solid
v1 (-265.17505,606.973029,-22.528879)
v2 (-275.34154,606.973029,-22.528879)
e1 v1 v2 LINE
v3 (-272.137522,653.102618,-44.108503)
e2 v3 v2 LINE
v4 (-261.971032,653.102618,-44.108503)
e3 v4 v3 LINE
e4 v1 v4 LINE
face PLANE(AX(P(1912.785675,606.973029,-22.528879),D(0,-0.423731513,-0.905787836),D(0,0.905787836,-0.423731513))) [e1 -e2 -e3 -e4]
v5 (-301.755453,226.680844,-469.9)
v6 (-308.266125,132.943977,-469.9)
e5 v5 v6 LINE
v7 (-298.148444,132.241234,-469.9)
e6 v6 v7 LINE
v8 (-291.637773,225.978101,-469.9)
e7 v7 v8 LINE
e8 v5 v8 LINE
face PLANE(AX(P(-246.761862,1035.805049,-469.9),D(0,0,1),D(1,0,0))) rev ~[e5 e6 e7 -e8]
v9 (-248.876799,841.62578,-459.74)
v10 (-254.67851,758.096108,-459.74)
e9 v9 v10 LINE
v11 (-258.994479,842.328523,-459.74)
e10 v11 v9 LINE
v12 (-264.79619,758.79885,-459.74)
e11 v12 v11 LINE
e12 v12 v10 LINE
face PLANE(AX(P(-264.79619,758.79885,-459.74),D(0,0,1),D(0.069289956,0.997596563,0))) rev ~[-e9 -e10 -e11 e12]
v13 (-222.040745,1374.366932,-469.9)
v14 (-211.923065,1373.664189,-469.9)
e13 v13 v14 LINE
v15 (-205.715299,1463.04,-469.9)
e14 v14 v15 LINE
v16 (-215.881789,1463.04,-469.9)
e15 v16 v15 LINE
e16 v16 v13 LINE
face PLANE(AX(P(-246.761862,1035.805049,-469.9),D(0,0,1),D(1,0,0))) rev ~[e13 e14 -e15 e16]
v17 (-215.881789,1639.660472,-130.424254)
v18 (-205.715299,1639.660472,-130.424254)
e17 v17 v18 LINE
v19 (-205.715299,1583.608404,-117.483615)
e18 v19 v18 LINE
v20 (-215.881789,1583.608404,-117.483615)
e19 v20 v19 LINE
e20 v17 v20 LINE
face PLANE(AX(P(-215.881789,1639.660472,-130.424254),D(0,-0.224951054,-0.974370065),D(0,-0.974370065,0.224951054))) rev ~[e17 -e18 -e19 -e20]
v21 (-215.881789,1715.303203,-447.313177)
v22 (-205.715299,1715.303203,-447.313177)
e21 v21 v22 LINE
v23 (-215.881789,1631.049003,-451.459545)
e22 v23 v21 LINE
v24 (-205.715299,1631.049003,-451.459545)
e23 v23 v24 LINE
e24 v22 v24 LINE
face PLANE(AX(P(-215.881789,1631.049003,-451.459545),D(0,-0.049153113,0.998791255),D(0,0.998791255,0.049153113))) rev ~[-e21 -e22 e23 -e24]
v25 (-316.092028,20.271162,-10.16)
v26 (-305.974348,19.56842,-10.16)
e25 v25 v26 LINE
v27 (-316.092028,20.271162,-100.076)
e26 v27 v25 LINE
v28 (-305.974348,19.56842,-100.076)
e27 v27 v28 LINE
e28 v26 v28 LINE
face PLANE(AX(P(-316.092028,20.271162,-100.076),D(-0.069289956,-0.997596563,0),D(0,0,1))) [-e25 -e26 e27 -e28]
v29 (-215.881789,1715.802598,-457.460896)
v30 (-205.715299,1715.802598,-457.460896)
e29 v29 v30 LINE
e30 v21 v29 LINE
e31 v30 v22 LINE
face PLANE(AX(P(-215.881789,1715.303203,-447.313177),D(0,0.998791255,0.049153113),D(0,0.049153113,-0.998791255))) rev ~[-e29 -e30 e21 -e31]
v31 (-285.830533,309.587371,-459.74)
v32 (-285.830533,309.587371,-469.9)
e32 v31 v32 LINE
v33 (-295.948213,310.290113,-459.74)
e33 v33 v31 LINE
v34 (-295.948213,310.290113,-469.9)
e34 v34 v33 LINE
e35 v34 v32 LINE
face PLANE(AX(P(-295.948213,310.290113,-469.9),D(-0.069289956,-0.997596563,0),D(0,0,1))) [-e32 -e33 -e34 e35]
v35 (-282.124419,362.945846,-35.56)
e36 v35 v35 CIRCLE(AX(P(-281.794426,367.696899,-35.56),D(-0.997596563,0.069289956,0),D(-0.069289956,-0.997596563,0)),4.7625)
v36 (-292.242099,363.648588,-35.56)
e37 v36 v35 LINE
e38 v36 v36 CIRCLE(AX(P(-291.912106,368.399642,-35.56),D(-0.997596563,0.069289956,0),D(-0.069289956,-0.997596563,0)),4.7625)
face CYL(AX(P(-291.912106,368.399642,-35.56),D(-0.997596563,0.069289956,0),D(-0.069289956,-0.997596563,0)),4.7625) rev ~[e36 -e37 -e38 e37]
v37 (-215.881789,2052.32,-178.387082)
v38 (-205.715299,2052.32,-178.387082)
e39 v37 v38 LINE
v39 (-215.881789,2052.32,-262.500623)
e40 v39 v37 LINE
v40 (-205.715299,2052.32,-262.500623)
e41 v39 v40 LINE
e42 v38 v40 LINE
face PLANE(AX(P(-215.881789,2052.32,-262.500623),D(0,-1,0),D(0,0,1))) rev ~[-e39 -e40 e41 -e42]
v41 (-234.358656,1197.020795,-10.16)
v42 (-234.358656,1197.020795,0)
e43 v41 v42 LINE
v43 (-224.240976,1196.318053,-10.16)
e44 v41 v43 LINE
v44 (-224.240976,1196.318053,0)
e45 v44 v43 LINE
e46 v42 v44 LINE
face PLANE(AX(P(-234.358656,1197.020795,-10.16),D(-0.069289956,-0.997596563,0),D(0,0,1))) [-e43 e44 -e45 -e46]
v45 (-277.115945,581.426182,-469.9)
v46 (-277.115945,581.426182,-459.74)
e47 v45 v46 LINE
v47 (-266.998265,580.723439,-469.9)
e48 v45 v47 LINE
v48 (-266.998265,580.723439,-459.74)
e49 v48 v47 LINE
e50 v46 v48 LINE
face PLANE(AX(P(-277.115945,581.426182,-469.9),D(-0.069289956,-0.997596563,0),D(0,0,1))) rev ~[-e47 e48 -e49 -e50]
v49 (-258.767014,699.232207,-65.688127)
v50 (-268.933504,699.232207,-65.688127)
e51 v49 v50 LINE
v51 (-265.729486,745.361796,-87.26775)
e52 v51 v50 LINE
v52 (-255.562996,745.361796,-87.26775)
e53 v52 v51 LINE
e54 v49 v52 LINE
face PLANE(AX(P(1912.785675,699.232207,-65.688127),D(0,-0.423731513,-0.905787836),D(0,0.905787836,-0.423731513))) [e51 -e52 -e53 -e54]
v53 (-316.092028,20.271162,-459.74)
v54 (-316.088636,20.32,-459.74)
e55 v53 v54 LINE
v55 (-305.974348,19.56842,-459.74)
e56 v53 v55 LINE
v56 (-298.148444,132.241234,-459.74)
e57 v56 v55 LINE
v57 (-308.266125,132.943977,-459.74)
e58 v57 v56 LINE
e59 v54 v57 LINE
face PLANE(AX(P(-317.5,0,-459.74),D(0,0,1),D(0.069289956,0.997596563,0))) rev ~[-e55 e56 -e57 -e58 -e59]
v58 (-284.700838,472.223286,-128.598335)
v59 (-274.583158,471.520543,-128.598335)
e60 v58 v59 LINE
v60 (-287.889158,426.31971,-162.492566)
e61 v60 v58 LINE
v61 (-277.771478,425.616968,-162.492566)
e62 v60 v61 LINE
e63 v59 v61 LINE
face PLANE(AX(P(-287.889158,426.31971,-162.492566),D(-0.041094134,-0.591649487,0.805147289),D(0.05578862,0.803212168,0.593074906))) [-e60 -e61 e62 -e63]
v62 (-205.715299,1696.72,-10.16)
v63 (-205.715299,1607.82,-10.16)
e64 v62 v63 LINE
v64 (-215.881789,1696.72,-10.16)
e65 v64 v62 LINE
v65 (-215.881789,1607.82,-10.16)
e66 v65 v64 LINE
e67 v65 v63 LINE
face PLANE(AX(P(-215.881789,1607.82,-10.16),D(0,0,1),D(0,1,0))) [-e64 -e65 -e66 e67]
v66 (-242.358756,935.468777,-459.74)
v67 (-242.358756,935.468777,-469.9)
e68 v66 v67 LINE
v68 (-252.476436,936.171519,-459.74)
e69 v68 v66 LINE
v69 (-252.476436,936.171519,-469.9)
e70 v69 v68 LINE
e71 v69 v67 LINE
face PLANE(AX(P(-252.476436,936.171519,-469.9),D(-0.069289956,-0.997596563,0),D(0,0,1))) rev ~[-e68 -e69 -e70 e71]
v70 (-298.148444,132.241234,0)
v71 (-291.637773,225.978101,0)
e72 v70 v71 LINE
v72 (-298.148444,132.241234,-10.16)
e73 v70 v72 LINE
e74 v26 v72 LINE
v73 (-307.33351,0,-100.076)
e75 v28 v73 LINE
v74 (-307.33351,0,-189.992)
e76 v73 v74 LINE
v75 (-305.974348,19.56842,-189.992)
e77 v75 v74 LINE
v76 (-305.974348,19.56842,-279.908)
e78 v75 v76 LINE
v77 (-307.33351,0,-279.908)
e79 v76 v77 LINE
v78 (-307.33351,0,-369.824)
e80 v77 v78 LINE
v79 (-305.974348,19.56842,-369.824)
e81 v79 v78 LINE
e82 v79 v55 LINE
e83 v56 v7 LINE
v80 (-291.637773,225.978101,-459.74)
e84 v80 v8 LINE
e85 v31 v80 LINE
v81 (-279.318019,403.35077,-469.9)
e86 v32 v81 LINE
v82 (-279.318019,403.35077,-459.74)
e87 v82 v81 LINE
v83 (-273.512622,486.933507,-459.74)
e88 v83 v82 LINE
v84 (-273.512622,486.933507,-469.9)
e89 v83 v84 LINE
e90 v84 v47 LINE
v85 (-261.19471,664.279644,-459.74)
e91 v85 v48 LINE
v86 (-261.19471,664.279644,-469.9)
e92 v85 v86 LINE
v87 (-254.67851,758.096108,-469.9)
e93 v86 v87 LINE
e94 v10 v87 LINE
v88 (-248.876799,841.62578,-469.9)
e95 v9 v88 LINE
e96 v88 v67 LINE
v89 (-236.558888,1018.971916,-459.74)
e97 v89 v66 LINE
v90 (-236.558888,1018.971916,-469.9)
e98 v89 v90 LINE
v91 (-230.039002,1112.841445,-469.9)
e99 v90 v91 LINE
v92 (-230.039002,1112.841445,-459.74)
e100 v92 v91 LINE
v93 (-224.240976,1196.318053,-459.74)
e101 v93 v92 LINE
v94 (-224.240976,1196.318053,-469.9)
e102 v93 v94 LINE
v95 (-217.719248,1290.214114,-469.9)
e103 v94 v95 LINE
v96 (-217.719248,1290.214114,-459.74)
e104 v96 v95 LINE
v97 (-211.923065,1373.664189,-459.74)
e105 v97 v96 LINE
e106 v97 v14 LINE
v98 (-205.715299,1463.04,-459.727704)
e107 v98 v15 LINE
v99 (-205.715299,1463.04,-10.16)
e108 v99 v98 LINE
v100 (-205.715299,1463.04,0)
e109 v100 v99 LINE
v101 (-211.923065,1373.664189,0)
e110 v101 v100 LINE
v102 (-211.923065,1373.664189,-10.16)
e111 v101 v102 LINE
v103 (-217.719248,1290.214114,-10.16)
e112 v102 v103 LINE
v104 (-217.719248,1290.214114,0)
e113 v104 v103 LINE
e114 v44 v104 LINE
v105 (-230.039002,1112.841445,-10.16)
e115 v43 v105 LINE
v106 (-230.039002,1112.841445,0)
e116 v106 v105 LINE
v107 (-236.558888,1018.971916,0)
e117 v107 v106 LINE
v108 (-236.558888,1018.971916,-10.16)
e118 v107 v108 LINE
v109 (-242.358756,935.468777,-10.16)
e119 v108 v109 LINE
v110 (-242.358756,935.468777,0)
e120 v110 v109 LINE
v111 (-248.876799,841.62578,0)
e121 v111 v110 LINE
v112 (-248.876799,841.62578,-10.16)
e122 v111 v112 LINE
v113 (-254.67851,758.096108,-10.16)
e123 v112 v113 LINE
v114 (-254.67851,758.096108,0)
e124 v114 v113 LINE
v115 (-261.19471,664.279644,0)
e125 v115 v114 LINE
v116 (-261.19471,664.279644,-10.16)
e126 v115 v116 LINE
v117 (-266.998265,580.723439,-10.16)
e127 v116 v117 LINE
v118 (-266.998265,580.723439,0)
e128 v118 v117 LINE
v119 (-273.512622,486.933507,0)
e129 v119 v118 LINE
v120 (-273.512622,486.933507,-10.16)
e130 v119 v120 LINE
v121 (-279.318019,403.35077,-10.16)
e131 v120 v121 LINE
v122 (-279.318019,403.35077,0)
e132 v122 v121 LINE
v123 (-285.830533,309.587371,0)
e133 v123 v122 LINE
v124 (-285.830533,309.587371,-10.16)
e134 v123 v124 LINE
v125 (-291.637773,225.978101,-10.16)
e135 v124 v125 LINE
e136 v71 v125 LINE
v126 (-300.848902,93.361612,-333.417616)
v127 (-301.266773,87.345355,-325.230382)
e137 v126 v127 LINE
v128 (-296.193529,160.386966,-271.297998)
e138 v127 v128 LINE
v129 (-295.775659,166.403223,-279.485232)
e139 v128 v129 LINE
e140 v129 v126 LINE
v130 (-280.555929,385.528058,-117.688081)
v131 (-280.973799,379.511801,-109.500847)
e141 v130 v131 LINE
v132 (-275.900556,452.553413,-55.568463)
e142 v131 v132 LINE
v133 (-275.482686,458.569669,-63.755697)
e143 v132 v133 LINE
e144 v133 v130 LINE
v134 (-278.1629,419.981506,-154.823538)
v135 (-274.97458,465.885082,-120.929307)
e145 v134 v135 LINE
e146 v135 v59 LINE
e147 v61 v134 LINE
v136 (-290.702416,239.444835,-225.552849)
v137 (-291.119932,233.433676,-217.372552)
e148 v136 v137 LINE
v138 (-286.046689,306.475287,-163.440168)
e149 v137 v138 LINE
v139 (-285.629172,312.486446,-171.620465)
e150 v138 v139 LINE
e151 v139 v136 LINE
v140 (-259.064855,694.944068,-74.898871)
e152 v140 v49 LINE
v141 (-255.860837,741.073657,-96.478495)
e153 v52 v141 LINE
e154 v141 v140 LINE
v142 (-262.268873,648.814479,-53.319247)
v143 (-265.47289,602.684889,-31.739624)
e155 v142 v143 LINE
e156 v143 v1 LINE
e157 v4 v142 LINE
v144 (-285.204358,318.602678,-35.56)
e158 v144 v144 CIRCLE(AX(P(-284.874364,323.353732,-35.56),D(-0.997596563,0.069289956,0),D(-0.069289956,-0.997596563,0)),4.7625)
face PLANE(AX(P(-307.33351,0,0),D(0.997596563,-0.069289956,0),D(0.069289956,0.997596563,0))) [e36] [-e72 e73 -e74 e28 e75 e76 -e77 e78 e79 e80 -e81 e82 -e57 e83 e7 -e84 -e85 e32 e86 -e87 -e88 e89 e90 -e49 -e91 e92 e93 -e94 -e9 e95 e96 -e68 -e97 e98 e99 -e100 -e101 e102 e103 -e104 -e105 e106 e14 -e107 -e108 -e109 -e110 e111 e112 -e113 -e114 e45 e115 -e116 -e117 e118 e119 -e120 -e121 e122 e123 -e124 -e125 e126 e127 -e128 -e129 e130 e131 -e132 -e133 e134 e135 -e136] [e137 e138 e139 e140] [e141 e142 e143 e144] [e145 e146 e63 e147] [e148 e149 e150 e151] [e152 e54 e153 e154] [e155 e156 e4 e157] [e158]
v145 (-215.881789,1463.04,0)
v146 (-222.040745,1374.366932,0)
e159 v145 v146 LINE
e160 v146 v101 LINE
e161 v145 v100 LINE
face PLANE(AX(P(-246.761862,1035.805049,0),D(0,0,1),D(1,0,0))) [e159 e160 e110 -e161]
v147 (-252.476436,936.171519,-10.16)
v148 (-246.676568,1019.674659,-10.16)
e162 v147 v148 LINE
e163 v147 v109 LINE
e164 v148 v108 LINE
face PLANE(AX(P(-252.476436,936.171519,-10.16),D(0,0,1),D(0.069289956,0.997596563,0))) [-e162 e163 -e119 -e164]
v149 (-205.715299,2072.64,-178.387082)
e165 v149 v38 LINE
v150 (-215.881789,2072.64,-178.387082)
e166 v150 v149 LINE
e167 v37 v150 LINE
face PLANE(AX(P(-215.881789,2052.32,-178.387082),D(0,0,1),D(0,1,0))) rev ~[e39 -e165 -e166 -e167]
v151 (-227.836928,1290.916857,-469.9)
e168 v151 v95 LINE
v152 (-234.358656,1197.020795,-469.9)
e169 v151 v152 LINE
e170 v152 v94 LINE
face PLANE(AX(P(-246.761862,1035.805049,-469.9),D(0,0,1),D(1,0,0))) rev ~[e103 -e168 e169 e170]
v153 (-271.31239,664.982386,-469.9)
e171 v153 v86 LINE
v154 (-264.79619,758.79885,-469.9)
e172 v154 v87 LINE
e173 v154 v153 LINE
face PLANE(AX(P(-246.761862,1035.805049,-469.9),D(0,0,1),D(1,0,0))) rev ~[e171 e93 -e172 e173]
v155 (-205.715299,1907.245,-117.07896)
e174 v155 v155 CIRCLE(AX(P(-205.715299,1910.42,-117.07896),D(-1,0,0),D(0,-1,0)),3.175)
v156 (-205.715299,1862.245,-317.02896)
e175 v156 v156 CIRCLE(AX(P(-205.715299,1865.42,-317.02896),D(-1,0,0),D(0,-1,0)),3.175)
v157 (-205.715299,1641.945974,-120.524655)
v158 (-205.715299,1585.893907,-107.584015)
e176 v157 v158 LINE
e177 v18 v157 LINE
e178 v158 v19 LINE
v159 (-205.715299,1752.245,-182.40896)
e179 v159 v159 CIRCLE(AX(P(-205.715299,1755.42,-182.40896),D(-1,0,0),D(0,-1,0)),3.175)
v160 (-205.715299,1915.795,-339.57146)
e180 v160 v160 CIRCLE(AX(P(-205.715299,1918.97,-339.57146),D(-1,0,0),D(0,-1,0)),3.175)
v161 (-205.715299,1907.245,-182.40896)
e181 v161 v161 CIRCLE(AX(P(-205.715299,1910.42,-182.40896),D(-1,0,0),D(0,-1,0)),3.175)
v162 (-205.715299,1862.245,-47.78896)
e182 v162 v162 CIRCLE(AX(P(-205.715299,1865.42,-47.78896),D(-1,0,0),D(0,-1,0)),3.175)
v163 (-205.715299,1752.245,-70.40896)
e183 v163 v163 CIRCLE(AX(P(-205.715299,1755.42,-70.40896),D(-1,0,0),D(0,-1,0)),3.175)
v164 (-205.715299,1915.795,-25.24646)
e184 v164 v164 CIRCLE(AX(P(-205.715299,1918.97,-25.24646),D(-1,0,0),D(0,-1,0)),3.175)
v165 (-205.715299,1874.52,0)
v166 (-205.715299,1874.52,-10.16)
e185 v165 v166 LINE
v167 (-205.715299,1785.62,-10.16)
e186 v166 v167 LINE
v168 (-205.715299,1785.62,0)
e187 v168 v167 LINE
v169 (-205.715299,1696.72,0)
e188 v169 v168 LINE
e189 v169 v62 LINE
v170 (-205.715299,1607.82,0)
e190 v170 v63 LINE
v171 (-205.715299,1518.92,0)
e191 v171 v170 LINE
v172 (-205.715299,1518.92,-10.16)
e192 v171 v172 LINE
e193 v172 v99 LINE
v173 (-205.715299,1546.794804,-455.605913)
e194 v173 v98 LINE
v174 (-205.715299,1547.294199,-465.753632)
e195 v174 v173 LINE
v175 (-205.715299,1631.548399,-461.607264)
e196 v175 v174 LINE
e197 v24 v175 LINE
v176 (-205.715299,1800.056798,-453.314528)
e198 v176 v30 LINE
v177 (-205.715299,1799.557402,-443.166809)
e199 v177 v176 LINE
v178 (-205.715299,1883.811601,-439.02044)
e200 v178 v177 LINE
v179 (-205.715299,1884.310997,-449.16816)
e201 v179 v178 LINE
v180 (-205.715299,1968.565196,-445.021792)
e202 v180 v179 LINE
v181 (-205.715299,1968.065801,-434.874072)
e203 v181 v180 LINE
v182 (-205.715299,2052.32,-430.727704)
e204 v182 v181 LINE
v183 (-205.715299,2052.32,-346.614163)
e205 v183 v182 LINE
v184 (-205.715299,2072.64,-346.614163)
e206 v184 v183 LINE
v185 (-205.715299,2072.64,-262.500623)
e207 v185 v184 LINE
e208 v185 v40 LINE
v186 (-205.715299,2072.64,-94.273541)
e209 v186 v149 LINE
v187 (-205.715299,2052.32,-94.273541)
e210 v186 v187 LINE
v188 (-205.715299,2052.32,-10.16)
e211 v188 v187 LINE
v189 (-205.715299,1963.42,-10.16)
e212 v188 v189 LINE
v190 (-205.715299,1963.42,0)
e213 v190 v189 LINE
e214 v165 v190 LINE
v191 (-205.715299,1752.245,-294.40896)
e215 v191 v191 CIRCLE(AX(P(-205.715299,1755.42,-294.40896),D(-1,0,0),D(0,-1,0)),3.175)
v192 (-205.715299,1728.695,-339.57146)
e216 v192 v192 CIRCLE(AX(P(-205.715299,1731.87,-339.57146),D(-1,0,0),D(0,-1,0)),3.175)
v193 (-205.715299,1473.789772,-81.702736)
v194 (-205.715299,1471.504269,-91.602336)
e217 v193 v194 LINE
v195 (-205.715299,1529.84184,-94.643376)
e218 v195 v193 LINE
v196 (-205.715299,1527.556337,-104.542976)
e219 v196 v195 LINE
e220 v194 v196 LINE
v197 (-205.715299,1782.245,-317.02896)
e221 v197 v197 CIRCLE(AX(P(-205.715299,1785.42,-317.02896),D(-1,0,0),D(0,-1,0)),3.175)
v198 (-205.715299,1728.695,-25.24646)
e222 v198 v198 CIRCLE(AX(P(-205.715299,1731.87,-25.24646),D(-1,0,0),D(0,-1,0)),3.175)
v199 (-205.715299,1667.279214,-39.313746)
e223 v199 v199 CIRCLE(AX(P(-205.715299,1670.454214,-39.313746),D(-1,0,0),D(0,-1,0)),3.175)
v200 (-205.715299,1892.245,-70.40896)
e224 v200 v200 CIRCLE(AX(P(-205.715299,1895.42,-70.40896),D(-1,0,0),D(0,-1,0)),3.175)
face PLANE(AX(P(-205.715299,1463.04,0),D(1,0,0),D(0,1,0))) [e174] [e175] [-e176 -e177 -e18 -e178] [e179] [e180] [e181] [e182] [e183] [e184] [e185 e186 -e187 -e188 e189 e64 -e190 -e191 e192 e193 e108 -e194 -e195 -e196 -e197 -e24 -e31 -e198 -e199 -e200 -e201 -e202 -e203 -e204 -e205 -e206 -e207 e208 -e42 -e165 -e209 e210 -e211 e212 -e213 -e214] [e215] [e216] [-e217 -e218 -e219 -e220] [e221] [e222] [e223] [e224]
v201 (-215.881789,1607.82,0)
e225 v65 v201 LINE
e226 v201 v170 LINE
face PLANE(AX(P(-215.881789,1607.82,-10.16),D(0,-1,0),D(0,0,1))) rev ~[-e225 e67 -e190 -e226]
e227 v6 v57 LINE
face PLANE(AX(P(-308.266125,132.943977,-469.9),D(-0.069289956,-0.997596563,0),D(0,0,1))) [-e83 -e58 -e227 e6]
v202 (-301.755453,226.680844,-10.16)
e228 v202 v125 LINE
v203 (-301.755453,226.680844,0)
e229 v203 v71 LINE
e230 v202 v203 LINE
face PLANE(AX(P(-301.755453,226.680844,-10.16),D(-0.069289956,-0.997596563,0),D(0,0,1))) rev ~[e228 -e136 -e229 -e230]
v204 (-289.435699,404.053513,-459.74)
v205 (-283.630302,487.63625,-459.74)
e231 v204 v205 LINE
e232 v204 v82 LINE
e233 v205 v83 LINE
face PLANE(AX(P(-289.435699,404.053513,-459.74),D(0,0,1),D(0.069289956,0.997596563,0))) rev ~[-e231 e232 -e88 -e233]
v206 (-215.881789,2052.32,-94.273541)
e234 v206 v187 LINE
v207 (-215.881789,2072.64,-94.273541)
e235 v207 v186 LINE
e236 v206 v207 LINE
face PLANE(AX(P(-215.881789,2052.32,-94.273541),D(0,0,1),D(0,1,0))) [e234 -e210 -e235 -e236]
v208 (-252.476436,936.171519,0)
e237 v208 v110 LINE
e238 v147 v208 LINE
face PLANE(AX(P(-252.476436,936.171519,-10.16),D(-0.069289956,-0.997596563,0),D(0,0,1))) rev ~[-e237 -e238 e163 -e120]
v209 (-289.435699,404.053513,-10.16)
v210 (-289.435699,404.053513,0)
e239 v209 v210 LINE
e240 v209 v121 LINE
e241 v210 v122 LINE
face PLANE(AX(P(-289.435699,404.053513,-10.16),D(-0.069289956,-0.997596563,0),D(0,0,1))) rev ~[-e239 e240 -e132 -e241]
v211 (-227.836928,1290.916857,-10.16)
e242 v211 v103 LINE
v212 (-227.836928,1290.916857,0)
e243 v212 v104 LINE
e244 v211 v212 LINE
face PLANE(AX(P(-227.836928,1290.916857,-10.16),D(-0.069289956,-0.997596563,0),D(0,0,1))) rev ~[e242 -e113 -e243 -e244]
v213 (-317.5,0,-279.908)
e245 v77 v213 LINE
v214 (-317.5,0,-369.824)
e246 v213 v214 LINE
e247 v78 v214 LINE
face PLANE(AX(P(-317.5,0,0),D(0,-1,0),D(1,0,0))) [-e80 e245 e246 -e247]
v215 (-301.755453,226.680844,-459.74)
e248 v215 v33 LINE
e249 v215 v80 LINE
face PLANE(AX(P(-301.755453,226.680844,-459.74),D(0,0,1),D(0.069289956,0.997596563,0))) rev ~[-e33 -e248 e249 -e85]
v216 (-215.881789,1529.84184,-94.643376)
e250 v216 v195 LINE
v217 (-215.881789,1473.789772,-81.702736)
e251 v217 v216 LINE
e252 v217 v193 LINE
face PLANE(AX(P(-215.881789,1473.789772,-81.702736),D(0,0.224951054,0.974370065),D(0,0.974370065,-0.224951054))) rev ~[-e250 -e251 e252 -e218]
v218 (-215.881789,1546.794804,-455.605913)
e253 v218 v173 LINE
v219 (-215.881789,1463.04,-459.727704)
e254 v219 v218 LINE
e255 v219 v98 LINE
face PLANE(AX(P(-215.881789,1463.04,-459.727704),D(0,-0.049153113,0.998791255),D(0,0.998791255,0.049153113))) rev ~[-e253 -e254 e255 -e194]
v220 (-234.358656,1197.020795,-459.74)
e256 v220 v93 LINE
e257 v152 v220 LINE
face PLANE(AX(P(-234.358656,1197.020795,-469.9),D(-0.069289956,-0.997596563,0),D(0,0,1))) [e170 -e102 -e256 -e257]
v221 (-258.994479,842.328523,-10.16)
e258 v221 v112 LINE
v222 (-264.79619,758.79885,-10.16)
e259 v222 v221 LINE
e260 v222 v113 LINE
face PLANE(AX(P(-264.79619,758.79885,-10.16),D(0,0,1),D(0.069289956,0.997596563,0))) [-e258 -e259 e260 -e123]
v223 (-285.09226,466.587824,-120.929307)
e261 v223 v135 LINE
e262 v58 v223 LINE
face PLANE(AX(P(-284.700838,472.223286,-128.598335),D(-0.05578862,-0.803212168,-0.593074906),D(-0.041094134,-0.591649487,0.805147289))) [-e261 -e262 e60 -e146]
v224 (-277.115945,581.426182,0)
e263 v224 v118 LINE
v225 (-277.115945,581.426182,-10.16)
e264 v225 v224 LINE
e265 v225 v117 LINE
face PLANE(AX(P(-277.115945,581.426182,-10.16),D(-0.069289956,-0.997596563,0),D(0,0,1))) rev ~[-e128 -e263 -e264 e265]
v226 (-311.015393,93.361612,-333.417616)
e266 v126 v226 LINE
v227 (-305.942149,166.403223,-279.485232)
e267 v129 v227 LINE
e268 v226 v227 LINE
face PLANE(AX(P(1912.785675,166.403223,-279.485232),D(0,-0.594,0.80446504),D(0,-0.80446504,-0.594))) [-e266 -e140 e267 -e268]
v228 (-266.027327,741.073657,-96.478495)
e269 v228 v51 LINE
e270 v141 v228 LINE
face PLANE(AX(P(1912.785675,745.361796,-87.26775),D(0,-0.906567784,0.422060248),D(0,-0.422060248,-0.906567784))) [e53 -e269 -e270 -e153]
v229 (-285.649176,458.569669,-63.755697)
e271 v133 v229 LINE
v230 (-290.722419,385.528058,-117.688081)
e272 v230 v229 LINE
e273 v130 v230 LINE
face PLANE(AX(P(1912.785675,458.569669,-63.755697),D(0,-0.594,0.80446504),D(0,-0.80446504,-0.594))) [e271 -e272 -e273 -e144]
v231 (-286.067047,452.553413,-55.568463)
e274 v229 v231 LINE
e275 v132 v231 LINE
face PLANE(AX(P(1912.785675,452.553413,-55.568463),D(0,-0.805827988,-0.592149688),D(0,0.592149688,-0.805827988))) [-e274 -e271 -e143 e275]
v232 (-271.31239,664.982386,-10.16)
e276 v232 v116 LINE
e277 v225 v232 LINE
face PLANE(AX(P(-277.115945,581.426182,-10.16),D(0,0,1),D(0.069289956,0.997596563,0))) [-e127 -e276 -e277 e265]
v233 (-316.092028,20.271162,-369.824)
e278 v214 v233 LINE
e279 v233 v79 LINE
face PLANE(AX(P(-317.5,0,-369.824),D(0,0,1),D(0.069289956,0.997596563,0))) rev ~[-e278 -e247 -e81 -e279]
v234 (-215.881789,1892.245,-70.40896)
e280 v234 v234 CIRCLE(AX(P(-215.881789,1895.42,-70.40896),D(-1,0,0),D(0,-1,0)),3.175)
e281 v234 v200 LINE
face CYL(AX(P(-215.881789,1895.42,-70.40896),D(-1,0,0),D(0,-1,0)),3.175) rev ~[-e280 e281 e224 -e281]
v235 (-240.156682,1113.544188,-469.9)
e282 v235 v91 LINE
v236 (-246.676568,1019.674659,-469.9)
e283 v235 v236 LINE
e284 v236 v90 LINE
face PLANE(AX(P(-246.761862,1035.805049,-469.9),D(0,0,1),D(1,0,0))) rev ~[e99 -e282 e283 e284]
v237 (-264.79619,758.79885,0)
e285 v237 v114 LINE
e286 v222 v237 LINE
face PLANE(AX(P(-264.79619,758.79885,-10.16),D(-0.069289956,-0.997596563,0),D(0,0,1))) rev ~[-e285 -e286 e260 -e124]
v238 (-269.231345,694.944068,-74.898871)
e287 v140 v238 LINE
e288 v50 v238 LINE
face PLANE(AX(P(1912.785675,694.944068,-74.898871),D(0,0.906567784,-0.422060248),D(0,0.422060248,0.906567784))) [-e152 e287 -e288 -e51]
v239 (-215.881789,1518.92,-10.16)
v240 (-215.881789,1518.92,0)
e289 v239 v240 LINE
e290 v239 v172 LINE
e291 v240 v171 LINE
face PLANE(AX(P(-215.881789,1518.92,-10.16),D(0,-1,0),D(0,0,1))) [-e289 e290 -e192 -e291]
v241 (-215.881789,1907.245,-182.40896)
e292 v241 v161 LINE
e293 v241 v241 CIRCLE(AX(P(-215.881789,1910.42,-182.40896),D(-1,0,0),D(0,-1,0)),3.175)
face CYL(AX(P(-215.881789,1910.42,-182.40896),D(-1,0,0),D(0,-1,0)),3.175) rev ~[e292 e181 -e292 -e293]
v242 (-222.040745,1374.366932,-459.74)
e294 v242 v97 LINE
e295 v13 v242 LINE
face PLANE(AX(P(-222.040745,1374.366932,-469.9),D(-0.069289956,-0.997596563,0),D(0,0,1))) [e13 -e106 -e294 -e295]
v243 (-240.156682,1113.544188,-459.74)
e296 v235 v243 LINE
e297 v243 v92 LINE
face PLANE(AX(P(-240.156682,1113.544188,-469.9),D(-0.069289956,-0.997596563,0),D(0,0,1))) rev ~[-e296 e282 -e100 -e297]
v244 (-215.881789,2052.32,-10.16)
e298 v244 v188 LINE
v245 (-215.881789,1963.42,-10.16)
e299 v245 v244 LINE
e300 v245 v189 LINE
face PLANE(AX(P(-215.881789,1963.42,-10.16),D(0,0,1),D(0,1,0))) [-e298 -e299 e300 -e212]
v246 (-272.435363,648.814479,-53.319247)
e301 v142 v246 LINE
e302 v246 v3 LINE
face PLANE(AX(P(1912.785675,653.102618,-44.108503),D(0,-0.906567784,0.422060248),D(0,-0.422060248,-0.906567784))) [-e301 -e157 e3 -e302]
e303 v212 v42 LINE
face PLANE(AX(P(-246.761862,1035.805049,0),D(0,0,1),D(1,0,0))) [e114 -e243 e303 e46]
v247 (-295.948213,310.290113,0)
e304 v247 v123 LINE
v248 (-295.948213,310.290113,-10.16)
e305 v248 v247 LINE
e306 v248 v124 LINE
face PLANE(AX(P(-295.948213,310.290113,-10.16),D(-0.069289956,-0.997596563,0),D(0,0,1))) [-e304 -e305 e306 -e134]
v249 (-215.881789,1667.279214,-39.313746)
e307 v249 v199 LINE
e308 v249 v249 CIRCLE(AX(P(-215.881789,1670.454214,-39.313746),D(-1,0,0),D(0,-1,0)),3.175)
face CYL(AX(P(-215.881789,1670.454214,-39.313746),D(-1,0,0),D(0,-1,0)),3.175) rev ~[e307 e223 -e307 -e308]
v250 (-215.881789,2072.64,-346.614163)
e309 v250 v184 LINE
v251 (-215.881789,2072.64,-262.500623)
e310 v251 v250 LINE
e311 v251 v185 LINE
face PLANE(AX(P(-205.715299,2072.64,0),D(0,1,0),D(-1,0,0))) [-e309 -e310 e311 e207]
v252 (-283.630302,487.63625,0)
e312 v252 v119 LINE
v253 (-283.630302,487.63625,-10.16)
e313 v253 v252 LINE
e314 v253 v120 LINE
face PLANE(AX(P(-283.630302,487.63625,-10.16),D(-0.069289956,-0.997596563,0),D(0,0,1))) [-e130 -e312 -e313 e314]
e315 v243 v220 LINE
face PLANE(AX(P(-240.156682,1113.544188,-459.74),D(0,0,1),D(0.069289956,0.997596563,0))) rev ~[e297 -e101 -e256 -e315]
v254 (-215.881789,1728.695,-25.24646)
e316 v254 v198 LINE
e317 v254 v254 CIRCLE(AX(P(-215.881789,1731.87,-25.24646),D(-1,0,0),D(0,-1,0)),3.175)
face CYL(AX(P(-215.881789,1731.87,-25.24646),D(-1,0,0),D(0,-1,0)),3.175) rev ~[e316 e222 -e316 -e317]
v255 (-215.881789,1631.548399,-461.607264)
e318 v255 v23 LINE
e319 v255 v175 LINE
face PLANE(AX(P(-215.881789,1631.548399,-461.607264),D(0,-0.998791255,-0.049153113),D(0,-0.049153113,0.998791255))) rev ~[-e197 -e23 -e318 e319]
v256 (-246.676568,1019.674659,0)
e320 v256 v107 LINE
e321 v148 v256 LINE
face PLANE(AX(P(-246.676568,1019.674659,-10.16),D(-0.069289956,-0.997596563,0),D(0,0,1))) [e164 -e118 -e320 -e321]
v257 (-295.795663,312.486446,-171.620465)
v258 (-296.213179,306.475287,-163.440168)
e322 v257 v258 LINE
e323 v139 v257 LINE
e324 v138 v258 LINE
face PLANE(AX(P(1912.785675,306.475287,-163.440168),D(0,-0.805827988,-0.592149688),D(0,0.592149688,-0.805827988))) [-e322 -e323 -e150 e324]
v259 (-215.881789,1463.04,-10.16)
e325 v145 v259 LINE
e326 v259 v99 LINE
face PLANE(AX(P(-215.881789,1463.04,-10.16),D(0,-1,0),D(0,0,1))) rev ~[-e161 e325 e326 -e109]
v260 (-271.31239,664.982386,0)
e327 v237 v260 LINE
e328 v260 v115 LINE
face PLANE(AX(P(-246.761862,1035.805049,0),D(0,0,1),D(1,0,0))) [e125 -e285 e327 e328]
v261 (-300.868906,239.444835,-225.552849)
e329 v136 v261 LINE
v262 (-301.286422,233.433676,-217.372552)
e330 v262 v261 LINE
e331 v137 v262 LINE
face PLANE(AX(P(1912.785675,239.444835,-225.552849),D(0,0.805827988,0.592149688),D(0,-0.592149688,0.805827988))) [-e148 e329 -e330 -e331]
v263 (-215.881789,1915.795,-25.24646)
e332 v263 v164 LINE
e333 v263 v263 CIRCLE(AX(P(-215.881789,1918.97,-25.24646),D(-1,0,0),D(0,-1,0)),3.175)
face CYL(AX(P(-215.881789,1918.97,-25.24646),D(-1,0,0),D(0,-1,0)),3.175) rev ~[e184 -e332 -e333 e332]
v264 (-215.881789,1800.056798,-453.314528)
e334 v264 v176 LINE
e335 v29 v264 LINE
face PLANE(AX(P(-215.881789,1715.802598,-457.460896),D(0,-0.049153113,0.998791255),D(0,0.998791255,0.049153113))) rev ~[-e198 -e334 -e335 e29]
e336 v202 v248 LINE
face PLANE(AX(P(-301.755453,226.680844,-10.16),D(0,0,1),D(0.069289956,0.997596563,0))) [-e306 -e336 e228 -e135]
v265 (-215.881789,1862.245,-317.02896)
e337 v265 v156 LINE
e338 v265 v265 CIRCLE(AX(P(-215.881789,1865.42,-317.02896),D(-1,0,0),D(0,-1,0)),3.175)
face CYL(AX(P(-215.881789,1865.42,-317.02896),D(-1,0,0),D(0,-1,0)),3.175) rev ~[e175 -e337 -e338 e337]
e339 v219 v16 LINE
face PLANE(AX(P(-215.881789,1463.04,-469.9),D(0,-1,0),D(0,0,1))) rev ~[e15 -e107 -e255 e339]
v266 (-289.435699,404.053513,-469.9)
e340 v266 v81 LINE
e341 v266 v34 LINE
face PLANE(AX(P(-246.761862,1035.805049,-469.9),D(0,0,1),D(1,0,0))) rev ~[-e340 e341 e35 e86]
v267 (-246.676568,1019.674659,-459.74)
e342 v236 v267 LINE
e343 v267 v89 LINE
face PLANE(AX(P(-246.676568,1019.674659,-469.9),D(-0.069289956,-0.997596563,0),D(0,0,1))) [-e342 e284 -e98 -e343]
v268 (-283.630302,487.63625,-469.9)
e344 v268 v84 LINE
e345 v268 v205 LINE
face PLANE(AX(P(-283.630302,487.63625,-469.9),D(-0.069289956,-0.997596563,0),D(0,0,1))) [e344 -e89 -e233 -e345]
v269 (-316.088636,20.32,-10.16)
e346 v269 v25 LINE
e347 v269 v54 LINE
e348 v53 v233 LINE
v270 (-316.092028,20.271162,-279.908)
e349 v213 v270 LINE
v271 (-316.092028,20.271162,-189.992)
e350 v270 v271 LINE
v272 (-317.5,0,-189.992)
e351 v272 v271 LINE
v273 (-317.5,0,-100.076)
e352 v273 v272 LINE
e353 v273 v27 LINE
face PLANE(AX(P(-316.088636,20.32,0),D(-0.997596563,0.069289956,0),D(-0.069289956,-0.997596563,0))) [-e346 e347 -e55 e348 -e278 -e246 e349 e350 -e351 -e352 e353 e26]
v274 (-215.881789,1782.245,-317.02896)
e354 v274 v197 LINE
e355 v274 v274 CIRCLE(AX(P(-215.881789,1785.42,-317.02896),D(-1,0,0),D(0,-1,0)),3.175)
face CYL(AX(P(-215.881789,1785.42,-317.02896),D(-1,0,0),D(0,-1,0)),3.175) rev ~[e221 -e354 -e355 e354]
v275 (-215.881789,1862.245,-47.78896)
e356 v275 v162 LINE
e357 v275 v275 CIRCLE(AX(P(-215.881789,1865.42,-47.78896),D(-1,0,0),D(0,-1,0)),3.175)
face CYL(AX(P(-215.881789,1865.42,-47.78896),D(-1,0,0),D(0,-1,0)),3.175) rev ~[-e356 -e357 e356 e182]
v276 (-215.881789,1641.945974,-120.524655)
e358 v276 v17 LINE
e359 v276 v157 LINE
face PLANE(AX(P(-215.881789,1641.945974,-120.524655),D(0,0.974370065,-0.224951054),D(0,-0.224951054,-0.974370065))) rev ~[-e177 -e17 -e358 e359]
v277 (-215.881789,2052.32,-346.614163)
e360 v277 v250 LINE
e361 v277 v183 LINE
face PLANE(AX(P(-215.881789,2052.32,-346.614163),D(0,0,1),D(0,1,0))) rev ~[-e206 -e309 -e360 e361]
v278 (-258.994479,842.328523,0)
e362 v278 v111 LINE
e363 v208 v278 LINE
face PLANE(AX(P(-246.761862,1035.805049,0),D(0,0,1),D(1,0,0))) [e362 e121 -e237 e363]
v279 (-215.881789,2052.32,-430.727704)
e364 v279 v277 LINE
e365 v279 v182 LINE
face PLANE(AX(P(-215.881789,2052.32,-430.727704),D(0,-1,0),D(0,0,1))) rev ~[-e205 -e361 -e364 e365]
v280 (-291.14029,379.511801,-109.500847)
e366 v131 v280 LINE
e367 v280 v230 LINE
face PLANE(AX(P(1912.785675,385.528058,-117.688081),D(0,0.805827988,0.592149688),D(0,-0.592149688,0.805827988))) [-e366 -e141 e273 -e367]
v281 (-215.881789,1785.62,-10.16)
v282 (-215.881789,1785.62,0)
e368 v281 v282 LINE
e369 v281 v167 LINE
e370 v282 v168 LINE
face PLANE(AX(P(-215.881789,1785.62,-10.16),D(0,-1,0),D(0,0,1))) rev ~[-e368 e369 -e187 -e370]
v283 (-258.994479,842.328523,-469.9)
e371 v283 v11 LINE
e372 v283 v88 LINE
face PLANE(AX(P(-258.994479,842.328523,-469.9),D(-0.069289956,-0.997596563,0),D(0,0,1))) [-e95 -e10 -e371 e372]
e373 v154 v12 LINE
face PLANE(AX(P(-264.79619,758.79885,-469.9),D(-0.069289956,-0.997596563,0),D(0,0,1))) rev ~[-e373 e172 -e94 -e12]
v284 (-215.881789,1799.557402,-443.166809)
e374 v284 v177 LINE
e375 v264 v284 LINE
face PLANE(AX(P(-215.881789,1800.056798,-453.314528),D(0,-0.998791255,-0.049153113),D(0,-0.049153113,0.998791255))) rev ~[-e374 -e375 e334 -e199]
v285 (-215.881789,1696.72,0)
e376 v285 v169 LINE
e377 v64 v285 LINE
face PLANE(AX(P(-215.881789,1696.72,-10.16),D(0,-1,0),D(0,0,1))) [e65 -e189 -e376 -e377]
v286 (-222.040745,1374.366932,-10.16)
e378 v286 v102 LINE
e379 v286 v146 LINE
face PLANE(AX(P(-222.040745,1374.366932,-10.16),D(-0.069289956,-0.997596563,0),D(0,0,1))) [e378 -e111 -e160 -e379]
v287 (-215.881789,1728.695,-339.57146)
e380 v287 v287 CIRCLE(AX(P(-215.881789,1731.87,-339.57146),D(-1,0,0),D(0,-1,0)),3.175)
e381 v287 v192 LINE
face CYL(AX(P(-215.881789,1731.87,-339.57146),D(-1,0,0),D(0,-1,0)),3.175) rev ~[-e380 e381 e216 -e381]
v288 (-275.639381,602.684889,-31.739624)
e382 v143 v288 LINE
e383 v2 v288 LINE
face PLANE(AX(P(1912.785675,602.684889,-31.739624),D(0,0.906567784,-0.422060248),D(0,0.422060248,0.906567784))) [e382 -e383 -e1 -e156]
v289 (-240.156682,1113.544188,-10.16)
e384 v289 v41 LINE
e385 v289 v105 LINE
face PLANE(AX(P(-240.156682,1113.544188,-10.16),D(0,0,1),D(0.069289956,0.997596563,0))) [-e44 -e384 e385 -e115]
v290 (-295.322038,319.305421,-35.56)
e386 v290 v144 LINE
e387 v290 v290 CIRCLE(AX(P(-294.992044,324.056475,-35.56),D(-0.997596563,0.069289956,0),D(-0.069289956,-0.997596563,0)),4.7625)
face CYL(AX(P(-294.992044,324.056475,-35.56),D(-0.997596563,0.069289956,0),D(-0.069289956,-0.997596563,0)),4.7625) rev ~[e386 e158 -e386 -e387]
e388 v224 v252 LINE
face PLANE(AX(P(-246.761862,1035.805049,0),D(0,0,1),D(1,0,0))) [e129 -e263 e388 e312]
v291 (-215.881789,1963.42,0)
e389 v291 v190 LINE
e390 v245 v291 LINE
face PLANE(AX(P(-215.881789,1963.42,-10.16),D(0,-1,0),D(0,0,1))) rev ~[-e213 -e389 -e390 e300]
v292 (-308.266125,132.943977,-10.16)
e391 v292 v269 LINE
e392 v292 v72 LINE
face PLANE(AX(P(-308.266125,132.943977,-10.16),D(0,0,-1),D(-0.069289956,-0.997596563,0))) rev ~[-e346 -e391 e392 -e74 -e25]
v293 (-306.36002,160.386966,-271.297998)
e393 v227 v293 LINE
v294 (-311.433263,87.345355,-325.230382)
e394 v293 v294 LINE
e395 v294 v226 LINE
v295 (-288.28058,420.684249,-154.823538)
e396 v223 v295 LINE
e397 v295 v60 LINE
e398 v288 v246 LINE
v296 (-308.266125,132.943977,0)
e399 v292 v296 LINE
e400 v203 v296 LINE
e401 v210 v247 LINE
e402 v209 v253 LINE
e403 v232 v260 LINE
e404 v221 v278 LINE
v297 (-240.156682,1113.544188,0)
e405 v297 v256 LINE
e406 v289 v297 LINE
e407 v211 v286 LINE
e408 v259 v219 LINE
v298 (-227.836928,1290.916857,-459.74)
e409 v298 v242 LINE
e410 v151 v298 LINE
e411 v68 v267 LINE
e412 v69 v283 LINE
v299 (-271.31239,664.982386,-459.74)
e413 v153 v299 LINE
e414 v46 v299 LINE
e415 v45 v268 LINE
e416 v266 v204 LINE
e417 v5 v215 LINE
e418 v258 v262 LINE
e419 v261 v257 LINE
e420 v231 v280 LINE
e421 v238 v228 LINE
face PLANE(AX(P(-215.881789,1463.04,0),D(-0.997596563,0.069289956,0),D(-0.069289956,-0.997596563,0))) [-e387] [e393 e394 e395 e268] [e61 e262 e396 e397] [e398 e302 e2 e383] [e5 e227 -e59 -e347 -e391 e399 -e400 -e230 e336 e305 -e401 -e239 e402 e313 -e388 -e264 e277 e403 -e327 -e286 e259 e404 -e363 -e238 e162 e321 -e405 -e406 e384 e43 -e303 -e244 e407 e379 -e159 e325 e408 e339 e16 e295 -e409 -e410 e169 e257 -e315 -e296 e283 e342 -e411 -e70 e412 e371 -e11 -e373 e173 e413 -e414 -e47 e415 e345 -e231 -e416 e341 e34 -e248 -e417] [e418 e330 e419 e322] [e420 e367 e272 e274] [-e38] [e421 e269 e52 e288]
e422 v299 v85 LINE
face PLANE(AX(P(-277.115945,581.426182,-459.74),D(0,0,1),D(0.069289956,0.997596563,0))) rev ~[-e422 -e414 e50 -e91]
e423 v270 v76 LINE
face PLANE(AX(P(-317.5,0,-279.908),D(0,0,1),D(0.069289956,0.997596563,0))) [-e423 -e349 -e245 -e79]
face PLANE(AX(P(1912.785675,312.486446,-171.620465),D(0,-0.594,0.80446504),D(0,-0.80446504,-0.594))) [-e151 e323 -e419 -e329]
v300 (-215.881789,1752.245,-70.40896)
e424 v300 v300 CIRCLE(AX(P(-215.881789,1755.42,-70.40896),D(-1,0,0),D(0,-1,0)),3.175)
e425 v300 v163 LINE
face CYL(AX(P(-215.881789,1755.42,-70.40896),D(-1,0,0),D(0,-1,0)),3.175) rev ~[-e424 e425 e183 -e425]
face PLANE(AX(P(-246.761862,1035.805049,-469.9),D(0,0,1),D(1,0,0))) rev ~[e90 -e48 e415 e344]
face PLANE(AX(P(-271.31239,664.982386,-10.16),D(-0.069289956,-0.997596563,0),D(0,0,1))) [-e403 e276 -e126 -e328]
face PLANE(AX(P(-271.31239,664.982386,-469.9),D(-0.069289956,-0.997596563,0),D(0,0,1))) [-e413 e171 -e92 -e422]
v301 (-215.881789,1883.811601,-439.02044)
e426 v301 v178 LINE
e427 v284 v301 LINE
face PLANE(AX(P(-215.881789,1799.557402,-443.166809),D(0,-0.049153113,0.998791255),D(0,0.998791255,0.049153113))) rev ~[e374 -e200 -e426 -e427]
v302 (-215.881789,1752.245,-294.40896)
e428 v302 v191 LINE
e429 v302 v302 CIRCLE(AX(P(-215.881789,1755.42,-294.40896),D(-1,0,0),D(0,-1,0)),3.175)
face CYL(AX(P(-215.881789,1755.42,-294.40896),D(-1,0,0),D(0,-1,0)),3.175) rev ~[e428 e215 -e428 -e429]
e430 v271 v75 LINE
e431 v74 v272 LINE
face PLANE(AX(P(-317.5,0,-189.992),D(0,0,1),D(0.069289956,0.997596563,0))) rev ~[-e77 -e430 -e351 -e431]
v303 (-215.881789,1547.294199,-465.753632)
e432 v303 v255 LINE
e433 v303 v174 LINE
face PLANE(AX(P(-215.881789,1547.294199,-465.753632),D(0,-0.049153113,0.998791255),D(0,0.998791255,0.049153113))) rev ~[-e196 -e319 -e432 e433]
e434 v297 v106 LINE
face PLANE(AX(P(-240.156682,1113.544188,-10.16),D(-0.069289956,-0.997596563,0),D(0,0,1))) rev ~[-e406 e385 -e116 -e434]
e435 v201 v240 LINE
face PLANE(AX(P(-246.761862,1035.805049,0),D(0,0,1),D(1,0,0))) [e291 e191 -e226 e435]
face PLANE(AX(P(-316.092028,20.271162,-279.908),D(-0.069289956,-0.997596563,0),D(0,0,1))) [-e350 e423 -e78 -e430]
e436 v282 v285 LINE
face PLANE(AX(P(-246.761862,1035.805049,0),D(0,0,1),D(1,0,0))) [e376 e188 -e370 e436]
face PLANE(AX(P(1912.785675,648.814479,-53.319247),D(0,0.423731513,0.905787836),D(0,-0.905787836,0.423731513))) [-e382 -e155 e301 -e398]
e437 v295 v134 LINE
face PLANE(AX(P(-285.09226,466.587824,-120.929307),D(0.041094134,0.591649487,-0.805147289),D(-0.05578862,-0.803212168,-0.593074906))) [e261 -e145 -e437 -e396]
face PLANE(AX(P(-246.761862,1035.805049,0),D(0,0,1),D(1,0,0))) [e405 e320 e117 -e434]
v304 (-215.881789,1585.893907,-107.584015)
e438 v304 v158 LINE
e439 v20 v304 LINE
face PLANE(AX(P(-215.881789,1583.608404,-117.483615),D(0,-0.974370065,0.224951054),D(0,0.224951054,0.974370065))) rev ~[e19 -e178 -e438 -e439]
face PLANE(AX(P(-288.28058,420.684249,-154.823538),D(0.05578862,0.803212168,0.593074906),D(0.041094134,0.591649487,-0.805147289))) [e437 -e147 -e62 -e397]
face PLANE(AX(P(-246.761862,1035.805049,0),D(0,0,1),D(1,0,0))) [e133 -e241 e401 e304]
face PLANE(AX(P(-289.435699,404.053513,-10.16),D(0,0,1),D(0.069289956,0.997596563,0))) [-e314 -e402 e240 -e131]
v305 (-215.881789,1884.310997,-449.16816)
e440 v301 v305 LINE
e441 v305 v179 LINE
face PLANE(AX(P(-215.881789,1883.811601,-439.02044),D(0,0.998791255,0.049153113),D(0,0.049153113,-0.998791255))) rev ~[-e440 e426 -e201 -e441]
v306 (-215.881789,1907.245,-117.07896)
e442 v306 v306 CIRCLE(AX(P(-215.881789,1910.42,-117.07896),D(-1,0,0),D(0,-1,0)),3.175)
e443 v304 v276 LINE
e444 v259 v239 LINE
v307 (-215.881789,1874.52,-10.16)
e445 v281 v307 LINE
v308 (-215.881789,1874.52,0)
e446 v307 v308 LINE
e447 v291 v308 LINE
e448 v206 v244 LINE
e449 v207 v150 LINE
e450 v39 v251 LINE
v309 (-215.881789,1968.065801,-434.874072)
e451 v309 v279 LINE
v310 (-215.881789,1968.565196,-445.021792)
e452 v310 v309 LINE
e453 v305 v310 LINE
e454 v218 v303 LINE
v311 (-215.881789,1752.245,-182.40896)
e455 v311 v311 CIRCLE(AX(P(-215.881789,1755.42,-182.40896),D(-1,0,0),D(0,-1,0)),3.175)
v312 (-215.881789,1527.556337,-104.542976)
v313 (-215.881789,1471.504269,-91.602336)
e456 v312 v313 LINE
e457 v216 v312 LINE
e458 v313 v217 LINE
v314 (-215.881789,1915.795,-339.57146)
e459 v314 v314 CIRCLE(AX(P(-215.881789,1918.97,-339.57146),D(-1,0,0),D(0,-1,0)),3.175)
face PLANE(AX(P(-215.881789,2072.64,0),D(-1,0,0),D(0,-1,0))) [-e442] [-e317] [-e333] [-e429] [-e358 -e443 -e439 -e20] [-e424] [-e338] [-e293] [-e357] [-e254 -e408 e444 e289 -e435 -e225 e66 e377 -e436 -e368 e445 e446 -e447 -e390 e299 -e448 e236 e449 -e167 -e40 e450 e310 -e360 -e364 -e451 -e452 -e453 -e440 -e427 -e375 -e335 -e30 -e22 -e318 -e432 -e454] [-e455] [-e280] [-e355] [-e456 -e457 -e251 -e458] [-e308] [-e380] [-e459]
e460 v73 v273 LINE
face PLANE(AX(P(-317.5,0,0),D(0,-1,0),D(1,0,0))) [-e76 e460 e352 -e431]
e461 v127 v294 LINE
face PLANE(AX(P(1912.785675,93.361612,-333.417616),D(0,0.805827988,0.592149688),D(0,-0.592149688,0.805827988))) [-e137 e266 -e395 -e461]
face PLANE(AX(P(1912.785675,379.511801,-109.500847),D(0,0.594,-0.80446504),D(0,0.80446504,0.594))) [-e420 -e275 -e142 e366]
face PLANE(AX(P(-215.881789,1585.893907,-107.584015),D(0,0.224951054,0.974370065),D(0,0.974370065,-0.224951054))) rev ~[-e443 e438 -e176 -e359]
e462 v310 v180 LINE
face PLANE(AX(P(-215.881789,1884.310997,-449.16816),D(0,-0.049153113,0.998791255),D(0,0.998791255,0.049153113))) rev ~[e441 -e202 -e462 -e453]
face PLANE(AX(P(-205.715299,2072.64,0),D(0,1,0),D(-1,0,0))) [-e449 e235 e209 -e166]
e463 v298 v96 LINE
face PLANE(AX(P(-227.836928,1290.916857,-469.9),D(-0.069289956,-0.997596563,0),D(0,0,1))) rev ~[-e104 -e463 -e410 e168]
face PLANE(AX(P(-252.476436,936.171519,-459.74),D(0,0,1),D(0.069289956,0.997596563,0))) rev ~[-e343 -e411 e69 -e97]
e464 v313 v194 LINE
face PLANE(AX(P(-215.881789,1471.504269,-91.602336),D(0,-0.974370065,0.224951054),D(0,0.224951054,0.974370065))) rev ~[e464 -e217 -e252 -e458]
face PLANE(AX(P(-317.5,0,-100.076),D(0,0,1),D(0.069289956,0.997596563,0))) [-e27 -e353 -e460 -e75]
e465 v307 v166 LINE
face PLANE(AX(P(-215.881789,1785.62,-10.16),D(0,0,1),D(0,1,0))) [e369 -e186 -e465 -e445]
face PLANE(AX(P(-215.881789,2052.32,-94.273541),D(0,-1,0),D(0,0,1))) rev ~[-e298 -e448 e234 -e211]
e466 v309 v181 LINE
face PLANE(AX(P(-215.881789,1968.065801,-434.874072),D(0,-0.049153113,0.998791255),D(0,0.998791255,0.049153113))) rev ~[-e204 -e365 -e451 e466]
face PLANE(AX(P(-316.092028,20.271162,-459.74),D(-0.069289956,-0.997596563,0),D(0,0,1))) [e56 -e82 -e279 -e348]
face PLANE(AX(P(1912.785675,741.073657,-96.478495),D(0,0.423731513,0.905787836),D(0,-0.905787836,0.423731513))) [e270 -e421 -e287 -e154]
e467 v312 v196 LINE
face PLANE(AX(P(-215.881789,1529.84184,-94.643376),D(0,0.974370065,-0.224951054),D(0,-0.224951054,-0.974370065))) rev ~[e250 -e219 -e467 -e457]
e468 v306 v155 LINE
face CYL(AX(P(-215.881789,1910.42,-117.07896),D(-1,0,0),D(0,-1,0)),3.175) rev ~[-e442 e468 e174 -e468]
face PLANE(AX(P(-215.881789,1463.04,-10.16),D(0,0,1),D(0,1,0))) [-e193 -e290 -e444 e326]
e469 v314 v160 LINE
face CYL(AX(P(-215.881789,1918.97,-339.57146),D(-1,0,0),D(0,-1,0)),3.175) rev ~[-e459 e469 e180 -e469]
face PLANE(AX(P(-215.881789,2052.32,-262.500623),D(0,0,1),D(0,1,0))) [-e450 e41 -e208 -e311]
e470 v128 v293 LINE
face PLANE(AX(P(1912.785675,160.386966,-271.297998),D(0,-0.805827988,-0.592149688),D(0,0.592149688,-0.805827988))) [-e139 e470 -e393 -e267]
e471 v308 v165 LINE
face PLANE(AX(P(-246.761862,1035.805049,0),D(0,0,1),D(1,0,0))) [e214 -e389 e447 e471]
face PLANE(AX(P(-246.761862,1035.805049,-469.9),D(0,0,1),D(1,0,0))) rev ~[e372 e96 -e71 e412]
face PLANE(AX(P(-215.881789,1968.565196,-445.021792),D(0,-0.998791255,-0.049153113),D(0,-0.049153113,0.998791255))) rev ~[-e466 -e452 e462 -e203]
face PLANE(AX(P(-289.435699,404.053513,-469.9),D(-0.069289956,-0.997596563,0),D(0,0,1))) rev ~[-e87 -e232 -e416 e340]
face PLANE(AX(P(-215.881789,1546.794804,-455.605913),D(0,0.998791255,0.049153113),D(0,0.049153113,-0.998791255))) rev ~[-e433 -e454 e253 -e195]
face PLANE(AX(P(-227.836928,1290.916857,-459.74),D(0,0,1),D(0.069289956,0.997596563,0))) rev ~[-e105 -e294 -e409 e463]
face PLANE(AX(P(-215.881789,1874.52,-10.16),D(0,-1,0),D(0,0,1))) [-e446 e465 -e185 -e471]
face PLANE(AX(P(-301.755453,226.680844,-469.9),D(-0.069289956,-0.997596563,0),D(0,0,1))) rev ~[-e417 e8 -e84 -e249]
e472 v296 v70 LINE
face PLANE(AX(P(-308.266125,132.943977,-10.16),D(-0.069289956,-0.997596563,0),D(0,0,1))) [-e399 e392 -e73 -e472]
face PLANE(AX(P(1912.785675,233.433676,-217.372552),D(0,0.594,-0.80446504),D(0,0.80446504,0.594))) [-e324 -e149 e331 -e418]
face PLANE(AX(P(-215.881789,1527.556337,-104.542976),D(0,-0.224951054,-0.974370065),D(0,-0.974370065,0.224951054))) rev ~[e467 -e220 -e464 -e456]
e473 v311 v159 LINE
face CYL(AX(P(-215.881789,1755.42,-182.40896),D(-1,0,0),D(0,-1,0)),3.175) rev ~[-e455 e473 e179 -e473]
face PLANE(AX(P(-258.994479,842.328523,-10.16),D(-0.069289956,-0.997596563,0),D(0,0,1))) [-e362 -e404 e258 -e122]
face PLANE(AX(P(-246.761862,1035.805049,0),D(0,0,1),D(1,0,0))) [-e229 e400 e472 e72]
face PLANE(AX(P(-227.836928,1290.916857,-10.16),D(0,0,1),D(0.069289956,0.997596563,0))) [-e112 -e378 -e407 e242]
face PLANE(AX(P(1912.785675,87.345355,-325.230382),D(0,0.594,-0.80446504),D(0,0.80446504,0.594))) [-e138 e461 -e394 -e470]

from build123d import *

# Parameters (mm, degrees)
BOSS_EXTRUDE1_DEPTH      = 469.9
SKETCH2_W                = 10.16
SKETCH2_H                = 83.651125112
SKETCH2_H_2              = 83.677721465
SKETCH2_H_3              = 83.704317819
SKETCH2_H_4              = 83.730914172
SKETCH2_H_5              = 83.757510526
SKETCH2_H_6              = 83.784106879
SKETCH2_H_7              = 83.810703233
SKETCH2_H_8              = 133.264269193
CUT_EXTRUDE1_DEPTH       = 10.16
SKETCH3_W                = 10.16
SKETCH3_H                = 55.879999965
SKETCH3_H_2              = 88.9
SKETCH3_H_3              = 109.22
CUT_EXTRUDE2_DEPTH       = 12.7
SKETCH4_W                = 84.113540858
SKETCH4_H                = 20.32
CUT_EXTRUDE3_DEPTH       = 12.7
SKETCH5_W                = 89.916
SKETCH5_H                = 20.32
CUT_EXTRUDE4_DEPTH       = 12.7
SKETCH13_R               = 3.175
CUT_EXTRUDE8_DEPTH       = 2128.667464702
CUT_EXTRUDE9_DEPTH       = 2128.667464702
SKETCH20_R               = 4.7625
CUT_EXTRUDE10_DEPTH      = 2107.728843747
SKETCH24_R               = 3.175
CUT_EXTRUDE12_DEPTH      = 12.7
CUT_EXTRUDE13_DEPTH      = 2128.667464702
CUT_EXTRUDE13_DEPTH_BACK = 2128.667464702


with BuildPart() as part:
    # Sketch1 → Boss-Extrude1 (new body)
    with BuildSketch(Plane.XY):
        Polygon((-215.881789204, 2052.32), (-215.881789204, 1463.040000035), (-316.088635901, 20.32), (-317.499999939, 0), (-307.333509538, 0), (-205.715298803, 1463.040000035), (-205.715298803, 2072.64), (-215.881789204, 2072.64), align=None)
    extrude(amount=-BOSS_EXTRUDE1_DEPTH)

    # Sketch2 → Cut-Extrude1 (cut)
    with BuildSketch(Plane(origin=(-315.975651309, 21.946686571, 0), x_dir=(0, 0, 1), z_dir=(-0.9975965627192115, 0.06928995634877068, 0))):
        with Locations((-464.82, 1313.852971026)):
            Rectangle(SKETCH2_W, SKETCH2_H)
        with Locations((-464.82, 1136.066269203)):
            Rectangle(SKETCH2_W, SKETCH2_H_2)
        with Locations((-464.82, 958.27956738)):
            Rectangle(SKETCH2_W, SKETCH2_H_3)
        with Locations((-464.82, 780.492865556)):
            Rectangle(SKETCH2_W, SKETCH2_H_4)
        with Locations((-464.82, 602.706163733)):
            Rectangle(SKETCH2_W, SKETCH2_H_5)
        with Locations((-464.82, 424.91946191)):
            Rectangle(SKETCH2_W, SKETCH2_H_6)
        with Locations((-464.82, 247.132760087)):
            Rectangle(SKETCH2_W, SKETCH2_H_7)
        with Locations((-464.82, 44.63257346)):
            Rectangle(SKETCH2_W, SKETCH2_H_8)
        with Locations((-5.08, 44.63257346)):
            Rectangle(SKETCH2_W, SKETCH2_H_8)
        with Locations((-5.08, 247.132760087)):
            Rectangle(SKETCH2_W, SKETCH2_H_7)
        with Locations((-5.08, 424.91946191)):
            Rectangle(SKETCH2_W, SKETCH2_H_6)
        with Locations((-5.08, 602.706163733)):
            Rectangle(SKETCH2_W, SKETCH2_H_5)
        with Locations((-5.08, 780.492865556)):
            Rectangle(SKETCH2_W, SKETCH2_H_4)
        with Locations((-5.08, 958.27956738)):
            Rectangle(SKETCH2_W, SKETCH2_H_3)
        with Locations((-5.08, 1136.066269203)):
            Rectangle(SKETCH2_W, SKETCH2_H_2)
        with Locations((-5.08, 1313.852971026)):
            Rectangle(SKETCH2_W, SKETCH2_H)
    extrude(amount=-CUT_EXTRUDE1_DEPTH, mode=Mode.SUBTRACT)

    # Sketch3 → Cut-Extrude2 (cut)
    with BuildSketch(Plane.ZY.offset(215.881789204)):
        with Locations((-5.08, 1490.980000018)):
            Rectangle(SKETCH3_W, SKETCH3_H)
        with Locations((-5.08, 1652.27)):
            Rectangle(SKETCH3_W, SKETCH3_H_2)
        Polygon((-469.9, 1463.040000035), (-459.727704291, 1463.040000035), (-455.605912768, 1546.794803777), (-465.753631921, 1547.294199405), (-461.607263841, 1631.548398775), (-451.459544688, 1631.049003148), (-447.313176609, 1715.303202518), (-457.460895762, 1715.802598146), (-453.314527682, 1800.056797516), (-443.166808529, 1799.557401889), (-439.02044045, 1883.811601259), (-449.168159603, 1884.310996887), (-445.021791523, 1968.565196257), (-434.87407237, 1968.06580063), (-429.727704291, 2072.64), (-469.9, 2072.64), align=None)
        with Locations((-5.08, 1830.07)):
            Rectangle(SKETCH3_W, SKETCH3_H_2)
        with Locations((-5.08, 2018.03)):
            Rectangle(SKETCH3_W, SKETCH3_H_3)
    extrude(amount=-CUT_EXTRUDE2_DEPTH, mode=Mode.SUBTRACT)

    # Sketch4 → Cut-Extrude3 (cut)
    with BuildSketch(Plane.ZY.offset(215.881789204)):
        with Locations((-388.670933862, 2062.48)):
            Rectangle(SKETCH4_W, SKETCH4_H)
        with Locations((-220.443852145, 2062.48)):
            Rectangle(SKETCH4_W, SKETCH4_H)
        with Locations((-52.216770429, 2062.48)):
            Rectangle(SKETCH4_W, SKETCH4_H)
    extrude(amount=-CUT_EXTRUDE3_DEPTH, mode=Mode.SUBTRACT)

    # Sketch5 → Cut-Extrude4 (cut)
    with BuildSketch(Plane(origin=(-315.975651309, 21.946686571, 0), x_dir=(0, 0, 1), z_dir=(-0.9975965627192115, 0.06928995634877068, 0))):
        with Locations((-414.782, -11.839561137)):
            Rectangle(SKETCH5_W, SKETCH5_H)
        with Locations((-234.95, -11.839561137)):
            Rectangle(SKETCH5_W, SKETCH5_H)
        with Locations((-55.118, -11.839561137)):
            Rectangle(SKETCH5_W, SKETCH5_H)
    extrude(amount=-CUT_EXTRUDE4_DEPTH, mode=Mode.SUBTRACT)

    # Sketch13 → Cut-Extrude8 (cut, through all)
    with BuildSketch(Plane.ZY.offset(215.881789204)):
        with Locations((-25.246459893, 1731.87)):
            Circle(SKETCH13_R)
        with Locations((-70.408959893, 1755.42)):
            Circle(SKETCH13_R)
        with Locations((-182.408959893, 1755.42)):
            Circle(SKETCH13_R)
        with Locations((-25.246459893, 1918.97)):
            Circle(SKETCH13_R)
        with Locations((-47.788959893, 1865.42)):
            Circle(SKETCH13_R)
        with Locations((-182.408959893, 1910.42)):
            Circle(SKETCH13_R)
        with Locations((-117.078959893, 1910.42)):
            Circle(SKETCH13_R)
        with Locations((-70.408959893, 1895.42)):
            Circle(SKETCH13_R)
        with Locations((-317.028959893, 1865.42)):
            Circle(SKETCH13_R)
        with Locations((-294.408959893, 1755.42)):
            Circle(SKETCH13_R)
        with Locations((-317.028959893, 1785.42)):
            Circle(SKETCH13_R)
        with Locations((-339.571459893, 1731.87)):
            Circle(SKETCH13_R)
        with Locations((-339.571459893, 1918.97)):
            Circle(SKETCH13_R)
    extrude(amount=-CUT_EXTRUDE8_DEPTH, mode=Mode.SUBTRACT)

    # Sketch17 → Cut-Extrude9 (cut, through all)
    with BuildSketch(Plane.ZY.offset(215.881789204)):
        Polygon((-120.524654614, 1641.945974367), (-130.424254473, 1639.660471655), (-117.483615058, 1583.608404231), (-107.584015199, 1585.893906943), align=None)
        Polygon((-94.643375784, 1529.841839519), (-104.542975642, 1527.556336807), (-91.602336227, 1471.504269383), (-81.702736369, 1473.789772095), align=None)
    extrude(amount=-CUT_EXTRUDE9_DEPTH, mode=Mode.SUBTRACT)

    # Sketch20 → Cut-Extrude10 (cut, through all)
    with BuildSketch(Plane(origin=(-315.975651309, 21.946686571, 0), x_dir=(0, 0, 1), z_dir=(-0.9975965627192116, 0.06928995634876853, 0))):
        Polygon((-128.598334701, 451.361418049), (-162.492565561, 405.347250509), (-154.823537638, 399.698212032), (-120.929306778, 445.712379572), align=None)
        with Locations((-35.56, 347.287639338)):
            Circle(SKETCH20_R)
        with Locations((-35.56, 302.837639338)):
            Circle(SKETCH20_R)
    extrude(amount=-CUT_EXTRUDE10_DEPTH, mode=Mode.SUBTRACT)

    # Sketch24 → Cut-Extrude12 (cut)
    with BuildSketch(Plane.ZY.offset(215.881789204)):
        with Locations((-39.313746491, 1670.454214013)):
            Circle(SKETCH24_R)
    extrude(amount=-CUT_EXTRUDE12_DEPTH, mode=Mode.SUBTRACT)

    # Sketch26 → Cut-Extrude13 (cut, two sides: drawn at the far end of the back side and taken through both)
    with BuildSketch(Plane.ZY.offset(215.881789204).offset(-CUT_EXTRUDE13_DEPTH_BACK)):
        Polygon((-96.478494721, 741.073656933), (-74.89887104, 694.944067742), (-65.68812669, 699.232207156), (-87.26775037, 745.361796346), align=None)
        Polygon((-31.73962368, 602.684889361), (-22.52887933, 606.973028774), (-44.10850301, 653.102617965), (-53.31924736, 648.814478552), align=None)
        Polygon((-63.755697238, 458.569669358), (-117.688081031, 385.528057798), (-109.500847052, 379.511801077), (-55.568463259, 452.553412636), align=None)
        Polygon((-333.417616206, 93.36161156), (-325.230382227, 87.345354838), (-271.297998434, 160.386966398), (-279.485232413, 166.403223119), align=None)
        Polygon((-225.552848619, 239.444834679), (-217.372552167, 233.433675887), (-163.440168374, 306.475287447), (-171.620464825, 312.486446238), align=None)
    extrude(amount=CUT_EXTRUDE13_DEPTH + CUT_EXTRUDE13_DEPTH_BACK, mode=Mode.SUBTRACT)


solid = part.part
